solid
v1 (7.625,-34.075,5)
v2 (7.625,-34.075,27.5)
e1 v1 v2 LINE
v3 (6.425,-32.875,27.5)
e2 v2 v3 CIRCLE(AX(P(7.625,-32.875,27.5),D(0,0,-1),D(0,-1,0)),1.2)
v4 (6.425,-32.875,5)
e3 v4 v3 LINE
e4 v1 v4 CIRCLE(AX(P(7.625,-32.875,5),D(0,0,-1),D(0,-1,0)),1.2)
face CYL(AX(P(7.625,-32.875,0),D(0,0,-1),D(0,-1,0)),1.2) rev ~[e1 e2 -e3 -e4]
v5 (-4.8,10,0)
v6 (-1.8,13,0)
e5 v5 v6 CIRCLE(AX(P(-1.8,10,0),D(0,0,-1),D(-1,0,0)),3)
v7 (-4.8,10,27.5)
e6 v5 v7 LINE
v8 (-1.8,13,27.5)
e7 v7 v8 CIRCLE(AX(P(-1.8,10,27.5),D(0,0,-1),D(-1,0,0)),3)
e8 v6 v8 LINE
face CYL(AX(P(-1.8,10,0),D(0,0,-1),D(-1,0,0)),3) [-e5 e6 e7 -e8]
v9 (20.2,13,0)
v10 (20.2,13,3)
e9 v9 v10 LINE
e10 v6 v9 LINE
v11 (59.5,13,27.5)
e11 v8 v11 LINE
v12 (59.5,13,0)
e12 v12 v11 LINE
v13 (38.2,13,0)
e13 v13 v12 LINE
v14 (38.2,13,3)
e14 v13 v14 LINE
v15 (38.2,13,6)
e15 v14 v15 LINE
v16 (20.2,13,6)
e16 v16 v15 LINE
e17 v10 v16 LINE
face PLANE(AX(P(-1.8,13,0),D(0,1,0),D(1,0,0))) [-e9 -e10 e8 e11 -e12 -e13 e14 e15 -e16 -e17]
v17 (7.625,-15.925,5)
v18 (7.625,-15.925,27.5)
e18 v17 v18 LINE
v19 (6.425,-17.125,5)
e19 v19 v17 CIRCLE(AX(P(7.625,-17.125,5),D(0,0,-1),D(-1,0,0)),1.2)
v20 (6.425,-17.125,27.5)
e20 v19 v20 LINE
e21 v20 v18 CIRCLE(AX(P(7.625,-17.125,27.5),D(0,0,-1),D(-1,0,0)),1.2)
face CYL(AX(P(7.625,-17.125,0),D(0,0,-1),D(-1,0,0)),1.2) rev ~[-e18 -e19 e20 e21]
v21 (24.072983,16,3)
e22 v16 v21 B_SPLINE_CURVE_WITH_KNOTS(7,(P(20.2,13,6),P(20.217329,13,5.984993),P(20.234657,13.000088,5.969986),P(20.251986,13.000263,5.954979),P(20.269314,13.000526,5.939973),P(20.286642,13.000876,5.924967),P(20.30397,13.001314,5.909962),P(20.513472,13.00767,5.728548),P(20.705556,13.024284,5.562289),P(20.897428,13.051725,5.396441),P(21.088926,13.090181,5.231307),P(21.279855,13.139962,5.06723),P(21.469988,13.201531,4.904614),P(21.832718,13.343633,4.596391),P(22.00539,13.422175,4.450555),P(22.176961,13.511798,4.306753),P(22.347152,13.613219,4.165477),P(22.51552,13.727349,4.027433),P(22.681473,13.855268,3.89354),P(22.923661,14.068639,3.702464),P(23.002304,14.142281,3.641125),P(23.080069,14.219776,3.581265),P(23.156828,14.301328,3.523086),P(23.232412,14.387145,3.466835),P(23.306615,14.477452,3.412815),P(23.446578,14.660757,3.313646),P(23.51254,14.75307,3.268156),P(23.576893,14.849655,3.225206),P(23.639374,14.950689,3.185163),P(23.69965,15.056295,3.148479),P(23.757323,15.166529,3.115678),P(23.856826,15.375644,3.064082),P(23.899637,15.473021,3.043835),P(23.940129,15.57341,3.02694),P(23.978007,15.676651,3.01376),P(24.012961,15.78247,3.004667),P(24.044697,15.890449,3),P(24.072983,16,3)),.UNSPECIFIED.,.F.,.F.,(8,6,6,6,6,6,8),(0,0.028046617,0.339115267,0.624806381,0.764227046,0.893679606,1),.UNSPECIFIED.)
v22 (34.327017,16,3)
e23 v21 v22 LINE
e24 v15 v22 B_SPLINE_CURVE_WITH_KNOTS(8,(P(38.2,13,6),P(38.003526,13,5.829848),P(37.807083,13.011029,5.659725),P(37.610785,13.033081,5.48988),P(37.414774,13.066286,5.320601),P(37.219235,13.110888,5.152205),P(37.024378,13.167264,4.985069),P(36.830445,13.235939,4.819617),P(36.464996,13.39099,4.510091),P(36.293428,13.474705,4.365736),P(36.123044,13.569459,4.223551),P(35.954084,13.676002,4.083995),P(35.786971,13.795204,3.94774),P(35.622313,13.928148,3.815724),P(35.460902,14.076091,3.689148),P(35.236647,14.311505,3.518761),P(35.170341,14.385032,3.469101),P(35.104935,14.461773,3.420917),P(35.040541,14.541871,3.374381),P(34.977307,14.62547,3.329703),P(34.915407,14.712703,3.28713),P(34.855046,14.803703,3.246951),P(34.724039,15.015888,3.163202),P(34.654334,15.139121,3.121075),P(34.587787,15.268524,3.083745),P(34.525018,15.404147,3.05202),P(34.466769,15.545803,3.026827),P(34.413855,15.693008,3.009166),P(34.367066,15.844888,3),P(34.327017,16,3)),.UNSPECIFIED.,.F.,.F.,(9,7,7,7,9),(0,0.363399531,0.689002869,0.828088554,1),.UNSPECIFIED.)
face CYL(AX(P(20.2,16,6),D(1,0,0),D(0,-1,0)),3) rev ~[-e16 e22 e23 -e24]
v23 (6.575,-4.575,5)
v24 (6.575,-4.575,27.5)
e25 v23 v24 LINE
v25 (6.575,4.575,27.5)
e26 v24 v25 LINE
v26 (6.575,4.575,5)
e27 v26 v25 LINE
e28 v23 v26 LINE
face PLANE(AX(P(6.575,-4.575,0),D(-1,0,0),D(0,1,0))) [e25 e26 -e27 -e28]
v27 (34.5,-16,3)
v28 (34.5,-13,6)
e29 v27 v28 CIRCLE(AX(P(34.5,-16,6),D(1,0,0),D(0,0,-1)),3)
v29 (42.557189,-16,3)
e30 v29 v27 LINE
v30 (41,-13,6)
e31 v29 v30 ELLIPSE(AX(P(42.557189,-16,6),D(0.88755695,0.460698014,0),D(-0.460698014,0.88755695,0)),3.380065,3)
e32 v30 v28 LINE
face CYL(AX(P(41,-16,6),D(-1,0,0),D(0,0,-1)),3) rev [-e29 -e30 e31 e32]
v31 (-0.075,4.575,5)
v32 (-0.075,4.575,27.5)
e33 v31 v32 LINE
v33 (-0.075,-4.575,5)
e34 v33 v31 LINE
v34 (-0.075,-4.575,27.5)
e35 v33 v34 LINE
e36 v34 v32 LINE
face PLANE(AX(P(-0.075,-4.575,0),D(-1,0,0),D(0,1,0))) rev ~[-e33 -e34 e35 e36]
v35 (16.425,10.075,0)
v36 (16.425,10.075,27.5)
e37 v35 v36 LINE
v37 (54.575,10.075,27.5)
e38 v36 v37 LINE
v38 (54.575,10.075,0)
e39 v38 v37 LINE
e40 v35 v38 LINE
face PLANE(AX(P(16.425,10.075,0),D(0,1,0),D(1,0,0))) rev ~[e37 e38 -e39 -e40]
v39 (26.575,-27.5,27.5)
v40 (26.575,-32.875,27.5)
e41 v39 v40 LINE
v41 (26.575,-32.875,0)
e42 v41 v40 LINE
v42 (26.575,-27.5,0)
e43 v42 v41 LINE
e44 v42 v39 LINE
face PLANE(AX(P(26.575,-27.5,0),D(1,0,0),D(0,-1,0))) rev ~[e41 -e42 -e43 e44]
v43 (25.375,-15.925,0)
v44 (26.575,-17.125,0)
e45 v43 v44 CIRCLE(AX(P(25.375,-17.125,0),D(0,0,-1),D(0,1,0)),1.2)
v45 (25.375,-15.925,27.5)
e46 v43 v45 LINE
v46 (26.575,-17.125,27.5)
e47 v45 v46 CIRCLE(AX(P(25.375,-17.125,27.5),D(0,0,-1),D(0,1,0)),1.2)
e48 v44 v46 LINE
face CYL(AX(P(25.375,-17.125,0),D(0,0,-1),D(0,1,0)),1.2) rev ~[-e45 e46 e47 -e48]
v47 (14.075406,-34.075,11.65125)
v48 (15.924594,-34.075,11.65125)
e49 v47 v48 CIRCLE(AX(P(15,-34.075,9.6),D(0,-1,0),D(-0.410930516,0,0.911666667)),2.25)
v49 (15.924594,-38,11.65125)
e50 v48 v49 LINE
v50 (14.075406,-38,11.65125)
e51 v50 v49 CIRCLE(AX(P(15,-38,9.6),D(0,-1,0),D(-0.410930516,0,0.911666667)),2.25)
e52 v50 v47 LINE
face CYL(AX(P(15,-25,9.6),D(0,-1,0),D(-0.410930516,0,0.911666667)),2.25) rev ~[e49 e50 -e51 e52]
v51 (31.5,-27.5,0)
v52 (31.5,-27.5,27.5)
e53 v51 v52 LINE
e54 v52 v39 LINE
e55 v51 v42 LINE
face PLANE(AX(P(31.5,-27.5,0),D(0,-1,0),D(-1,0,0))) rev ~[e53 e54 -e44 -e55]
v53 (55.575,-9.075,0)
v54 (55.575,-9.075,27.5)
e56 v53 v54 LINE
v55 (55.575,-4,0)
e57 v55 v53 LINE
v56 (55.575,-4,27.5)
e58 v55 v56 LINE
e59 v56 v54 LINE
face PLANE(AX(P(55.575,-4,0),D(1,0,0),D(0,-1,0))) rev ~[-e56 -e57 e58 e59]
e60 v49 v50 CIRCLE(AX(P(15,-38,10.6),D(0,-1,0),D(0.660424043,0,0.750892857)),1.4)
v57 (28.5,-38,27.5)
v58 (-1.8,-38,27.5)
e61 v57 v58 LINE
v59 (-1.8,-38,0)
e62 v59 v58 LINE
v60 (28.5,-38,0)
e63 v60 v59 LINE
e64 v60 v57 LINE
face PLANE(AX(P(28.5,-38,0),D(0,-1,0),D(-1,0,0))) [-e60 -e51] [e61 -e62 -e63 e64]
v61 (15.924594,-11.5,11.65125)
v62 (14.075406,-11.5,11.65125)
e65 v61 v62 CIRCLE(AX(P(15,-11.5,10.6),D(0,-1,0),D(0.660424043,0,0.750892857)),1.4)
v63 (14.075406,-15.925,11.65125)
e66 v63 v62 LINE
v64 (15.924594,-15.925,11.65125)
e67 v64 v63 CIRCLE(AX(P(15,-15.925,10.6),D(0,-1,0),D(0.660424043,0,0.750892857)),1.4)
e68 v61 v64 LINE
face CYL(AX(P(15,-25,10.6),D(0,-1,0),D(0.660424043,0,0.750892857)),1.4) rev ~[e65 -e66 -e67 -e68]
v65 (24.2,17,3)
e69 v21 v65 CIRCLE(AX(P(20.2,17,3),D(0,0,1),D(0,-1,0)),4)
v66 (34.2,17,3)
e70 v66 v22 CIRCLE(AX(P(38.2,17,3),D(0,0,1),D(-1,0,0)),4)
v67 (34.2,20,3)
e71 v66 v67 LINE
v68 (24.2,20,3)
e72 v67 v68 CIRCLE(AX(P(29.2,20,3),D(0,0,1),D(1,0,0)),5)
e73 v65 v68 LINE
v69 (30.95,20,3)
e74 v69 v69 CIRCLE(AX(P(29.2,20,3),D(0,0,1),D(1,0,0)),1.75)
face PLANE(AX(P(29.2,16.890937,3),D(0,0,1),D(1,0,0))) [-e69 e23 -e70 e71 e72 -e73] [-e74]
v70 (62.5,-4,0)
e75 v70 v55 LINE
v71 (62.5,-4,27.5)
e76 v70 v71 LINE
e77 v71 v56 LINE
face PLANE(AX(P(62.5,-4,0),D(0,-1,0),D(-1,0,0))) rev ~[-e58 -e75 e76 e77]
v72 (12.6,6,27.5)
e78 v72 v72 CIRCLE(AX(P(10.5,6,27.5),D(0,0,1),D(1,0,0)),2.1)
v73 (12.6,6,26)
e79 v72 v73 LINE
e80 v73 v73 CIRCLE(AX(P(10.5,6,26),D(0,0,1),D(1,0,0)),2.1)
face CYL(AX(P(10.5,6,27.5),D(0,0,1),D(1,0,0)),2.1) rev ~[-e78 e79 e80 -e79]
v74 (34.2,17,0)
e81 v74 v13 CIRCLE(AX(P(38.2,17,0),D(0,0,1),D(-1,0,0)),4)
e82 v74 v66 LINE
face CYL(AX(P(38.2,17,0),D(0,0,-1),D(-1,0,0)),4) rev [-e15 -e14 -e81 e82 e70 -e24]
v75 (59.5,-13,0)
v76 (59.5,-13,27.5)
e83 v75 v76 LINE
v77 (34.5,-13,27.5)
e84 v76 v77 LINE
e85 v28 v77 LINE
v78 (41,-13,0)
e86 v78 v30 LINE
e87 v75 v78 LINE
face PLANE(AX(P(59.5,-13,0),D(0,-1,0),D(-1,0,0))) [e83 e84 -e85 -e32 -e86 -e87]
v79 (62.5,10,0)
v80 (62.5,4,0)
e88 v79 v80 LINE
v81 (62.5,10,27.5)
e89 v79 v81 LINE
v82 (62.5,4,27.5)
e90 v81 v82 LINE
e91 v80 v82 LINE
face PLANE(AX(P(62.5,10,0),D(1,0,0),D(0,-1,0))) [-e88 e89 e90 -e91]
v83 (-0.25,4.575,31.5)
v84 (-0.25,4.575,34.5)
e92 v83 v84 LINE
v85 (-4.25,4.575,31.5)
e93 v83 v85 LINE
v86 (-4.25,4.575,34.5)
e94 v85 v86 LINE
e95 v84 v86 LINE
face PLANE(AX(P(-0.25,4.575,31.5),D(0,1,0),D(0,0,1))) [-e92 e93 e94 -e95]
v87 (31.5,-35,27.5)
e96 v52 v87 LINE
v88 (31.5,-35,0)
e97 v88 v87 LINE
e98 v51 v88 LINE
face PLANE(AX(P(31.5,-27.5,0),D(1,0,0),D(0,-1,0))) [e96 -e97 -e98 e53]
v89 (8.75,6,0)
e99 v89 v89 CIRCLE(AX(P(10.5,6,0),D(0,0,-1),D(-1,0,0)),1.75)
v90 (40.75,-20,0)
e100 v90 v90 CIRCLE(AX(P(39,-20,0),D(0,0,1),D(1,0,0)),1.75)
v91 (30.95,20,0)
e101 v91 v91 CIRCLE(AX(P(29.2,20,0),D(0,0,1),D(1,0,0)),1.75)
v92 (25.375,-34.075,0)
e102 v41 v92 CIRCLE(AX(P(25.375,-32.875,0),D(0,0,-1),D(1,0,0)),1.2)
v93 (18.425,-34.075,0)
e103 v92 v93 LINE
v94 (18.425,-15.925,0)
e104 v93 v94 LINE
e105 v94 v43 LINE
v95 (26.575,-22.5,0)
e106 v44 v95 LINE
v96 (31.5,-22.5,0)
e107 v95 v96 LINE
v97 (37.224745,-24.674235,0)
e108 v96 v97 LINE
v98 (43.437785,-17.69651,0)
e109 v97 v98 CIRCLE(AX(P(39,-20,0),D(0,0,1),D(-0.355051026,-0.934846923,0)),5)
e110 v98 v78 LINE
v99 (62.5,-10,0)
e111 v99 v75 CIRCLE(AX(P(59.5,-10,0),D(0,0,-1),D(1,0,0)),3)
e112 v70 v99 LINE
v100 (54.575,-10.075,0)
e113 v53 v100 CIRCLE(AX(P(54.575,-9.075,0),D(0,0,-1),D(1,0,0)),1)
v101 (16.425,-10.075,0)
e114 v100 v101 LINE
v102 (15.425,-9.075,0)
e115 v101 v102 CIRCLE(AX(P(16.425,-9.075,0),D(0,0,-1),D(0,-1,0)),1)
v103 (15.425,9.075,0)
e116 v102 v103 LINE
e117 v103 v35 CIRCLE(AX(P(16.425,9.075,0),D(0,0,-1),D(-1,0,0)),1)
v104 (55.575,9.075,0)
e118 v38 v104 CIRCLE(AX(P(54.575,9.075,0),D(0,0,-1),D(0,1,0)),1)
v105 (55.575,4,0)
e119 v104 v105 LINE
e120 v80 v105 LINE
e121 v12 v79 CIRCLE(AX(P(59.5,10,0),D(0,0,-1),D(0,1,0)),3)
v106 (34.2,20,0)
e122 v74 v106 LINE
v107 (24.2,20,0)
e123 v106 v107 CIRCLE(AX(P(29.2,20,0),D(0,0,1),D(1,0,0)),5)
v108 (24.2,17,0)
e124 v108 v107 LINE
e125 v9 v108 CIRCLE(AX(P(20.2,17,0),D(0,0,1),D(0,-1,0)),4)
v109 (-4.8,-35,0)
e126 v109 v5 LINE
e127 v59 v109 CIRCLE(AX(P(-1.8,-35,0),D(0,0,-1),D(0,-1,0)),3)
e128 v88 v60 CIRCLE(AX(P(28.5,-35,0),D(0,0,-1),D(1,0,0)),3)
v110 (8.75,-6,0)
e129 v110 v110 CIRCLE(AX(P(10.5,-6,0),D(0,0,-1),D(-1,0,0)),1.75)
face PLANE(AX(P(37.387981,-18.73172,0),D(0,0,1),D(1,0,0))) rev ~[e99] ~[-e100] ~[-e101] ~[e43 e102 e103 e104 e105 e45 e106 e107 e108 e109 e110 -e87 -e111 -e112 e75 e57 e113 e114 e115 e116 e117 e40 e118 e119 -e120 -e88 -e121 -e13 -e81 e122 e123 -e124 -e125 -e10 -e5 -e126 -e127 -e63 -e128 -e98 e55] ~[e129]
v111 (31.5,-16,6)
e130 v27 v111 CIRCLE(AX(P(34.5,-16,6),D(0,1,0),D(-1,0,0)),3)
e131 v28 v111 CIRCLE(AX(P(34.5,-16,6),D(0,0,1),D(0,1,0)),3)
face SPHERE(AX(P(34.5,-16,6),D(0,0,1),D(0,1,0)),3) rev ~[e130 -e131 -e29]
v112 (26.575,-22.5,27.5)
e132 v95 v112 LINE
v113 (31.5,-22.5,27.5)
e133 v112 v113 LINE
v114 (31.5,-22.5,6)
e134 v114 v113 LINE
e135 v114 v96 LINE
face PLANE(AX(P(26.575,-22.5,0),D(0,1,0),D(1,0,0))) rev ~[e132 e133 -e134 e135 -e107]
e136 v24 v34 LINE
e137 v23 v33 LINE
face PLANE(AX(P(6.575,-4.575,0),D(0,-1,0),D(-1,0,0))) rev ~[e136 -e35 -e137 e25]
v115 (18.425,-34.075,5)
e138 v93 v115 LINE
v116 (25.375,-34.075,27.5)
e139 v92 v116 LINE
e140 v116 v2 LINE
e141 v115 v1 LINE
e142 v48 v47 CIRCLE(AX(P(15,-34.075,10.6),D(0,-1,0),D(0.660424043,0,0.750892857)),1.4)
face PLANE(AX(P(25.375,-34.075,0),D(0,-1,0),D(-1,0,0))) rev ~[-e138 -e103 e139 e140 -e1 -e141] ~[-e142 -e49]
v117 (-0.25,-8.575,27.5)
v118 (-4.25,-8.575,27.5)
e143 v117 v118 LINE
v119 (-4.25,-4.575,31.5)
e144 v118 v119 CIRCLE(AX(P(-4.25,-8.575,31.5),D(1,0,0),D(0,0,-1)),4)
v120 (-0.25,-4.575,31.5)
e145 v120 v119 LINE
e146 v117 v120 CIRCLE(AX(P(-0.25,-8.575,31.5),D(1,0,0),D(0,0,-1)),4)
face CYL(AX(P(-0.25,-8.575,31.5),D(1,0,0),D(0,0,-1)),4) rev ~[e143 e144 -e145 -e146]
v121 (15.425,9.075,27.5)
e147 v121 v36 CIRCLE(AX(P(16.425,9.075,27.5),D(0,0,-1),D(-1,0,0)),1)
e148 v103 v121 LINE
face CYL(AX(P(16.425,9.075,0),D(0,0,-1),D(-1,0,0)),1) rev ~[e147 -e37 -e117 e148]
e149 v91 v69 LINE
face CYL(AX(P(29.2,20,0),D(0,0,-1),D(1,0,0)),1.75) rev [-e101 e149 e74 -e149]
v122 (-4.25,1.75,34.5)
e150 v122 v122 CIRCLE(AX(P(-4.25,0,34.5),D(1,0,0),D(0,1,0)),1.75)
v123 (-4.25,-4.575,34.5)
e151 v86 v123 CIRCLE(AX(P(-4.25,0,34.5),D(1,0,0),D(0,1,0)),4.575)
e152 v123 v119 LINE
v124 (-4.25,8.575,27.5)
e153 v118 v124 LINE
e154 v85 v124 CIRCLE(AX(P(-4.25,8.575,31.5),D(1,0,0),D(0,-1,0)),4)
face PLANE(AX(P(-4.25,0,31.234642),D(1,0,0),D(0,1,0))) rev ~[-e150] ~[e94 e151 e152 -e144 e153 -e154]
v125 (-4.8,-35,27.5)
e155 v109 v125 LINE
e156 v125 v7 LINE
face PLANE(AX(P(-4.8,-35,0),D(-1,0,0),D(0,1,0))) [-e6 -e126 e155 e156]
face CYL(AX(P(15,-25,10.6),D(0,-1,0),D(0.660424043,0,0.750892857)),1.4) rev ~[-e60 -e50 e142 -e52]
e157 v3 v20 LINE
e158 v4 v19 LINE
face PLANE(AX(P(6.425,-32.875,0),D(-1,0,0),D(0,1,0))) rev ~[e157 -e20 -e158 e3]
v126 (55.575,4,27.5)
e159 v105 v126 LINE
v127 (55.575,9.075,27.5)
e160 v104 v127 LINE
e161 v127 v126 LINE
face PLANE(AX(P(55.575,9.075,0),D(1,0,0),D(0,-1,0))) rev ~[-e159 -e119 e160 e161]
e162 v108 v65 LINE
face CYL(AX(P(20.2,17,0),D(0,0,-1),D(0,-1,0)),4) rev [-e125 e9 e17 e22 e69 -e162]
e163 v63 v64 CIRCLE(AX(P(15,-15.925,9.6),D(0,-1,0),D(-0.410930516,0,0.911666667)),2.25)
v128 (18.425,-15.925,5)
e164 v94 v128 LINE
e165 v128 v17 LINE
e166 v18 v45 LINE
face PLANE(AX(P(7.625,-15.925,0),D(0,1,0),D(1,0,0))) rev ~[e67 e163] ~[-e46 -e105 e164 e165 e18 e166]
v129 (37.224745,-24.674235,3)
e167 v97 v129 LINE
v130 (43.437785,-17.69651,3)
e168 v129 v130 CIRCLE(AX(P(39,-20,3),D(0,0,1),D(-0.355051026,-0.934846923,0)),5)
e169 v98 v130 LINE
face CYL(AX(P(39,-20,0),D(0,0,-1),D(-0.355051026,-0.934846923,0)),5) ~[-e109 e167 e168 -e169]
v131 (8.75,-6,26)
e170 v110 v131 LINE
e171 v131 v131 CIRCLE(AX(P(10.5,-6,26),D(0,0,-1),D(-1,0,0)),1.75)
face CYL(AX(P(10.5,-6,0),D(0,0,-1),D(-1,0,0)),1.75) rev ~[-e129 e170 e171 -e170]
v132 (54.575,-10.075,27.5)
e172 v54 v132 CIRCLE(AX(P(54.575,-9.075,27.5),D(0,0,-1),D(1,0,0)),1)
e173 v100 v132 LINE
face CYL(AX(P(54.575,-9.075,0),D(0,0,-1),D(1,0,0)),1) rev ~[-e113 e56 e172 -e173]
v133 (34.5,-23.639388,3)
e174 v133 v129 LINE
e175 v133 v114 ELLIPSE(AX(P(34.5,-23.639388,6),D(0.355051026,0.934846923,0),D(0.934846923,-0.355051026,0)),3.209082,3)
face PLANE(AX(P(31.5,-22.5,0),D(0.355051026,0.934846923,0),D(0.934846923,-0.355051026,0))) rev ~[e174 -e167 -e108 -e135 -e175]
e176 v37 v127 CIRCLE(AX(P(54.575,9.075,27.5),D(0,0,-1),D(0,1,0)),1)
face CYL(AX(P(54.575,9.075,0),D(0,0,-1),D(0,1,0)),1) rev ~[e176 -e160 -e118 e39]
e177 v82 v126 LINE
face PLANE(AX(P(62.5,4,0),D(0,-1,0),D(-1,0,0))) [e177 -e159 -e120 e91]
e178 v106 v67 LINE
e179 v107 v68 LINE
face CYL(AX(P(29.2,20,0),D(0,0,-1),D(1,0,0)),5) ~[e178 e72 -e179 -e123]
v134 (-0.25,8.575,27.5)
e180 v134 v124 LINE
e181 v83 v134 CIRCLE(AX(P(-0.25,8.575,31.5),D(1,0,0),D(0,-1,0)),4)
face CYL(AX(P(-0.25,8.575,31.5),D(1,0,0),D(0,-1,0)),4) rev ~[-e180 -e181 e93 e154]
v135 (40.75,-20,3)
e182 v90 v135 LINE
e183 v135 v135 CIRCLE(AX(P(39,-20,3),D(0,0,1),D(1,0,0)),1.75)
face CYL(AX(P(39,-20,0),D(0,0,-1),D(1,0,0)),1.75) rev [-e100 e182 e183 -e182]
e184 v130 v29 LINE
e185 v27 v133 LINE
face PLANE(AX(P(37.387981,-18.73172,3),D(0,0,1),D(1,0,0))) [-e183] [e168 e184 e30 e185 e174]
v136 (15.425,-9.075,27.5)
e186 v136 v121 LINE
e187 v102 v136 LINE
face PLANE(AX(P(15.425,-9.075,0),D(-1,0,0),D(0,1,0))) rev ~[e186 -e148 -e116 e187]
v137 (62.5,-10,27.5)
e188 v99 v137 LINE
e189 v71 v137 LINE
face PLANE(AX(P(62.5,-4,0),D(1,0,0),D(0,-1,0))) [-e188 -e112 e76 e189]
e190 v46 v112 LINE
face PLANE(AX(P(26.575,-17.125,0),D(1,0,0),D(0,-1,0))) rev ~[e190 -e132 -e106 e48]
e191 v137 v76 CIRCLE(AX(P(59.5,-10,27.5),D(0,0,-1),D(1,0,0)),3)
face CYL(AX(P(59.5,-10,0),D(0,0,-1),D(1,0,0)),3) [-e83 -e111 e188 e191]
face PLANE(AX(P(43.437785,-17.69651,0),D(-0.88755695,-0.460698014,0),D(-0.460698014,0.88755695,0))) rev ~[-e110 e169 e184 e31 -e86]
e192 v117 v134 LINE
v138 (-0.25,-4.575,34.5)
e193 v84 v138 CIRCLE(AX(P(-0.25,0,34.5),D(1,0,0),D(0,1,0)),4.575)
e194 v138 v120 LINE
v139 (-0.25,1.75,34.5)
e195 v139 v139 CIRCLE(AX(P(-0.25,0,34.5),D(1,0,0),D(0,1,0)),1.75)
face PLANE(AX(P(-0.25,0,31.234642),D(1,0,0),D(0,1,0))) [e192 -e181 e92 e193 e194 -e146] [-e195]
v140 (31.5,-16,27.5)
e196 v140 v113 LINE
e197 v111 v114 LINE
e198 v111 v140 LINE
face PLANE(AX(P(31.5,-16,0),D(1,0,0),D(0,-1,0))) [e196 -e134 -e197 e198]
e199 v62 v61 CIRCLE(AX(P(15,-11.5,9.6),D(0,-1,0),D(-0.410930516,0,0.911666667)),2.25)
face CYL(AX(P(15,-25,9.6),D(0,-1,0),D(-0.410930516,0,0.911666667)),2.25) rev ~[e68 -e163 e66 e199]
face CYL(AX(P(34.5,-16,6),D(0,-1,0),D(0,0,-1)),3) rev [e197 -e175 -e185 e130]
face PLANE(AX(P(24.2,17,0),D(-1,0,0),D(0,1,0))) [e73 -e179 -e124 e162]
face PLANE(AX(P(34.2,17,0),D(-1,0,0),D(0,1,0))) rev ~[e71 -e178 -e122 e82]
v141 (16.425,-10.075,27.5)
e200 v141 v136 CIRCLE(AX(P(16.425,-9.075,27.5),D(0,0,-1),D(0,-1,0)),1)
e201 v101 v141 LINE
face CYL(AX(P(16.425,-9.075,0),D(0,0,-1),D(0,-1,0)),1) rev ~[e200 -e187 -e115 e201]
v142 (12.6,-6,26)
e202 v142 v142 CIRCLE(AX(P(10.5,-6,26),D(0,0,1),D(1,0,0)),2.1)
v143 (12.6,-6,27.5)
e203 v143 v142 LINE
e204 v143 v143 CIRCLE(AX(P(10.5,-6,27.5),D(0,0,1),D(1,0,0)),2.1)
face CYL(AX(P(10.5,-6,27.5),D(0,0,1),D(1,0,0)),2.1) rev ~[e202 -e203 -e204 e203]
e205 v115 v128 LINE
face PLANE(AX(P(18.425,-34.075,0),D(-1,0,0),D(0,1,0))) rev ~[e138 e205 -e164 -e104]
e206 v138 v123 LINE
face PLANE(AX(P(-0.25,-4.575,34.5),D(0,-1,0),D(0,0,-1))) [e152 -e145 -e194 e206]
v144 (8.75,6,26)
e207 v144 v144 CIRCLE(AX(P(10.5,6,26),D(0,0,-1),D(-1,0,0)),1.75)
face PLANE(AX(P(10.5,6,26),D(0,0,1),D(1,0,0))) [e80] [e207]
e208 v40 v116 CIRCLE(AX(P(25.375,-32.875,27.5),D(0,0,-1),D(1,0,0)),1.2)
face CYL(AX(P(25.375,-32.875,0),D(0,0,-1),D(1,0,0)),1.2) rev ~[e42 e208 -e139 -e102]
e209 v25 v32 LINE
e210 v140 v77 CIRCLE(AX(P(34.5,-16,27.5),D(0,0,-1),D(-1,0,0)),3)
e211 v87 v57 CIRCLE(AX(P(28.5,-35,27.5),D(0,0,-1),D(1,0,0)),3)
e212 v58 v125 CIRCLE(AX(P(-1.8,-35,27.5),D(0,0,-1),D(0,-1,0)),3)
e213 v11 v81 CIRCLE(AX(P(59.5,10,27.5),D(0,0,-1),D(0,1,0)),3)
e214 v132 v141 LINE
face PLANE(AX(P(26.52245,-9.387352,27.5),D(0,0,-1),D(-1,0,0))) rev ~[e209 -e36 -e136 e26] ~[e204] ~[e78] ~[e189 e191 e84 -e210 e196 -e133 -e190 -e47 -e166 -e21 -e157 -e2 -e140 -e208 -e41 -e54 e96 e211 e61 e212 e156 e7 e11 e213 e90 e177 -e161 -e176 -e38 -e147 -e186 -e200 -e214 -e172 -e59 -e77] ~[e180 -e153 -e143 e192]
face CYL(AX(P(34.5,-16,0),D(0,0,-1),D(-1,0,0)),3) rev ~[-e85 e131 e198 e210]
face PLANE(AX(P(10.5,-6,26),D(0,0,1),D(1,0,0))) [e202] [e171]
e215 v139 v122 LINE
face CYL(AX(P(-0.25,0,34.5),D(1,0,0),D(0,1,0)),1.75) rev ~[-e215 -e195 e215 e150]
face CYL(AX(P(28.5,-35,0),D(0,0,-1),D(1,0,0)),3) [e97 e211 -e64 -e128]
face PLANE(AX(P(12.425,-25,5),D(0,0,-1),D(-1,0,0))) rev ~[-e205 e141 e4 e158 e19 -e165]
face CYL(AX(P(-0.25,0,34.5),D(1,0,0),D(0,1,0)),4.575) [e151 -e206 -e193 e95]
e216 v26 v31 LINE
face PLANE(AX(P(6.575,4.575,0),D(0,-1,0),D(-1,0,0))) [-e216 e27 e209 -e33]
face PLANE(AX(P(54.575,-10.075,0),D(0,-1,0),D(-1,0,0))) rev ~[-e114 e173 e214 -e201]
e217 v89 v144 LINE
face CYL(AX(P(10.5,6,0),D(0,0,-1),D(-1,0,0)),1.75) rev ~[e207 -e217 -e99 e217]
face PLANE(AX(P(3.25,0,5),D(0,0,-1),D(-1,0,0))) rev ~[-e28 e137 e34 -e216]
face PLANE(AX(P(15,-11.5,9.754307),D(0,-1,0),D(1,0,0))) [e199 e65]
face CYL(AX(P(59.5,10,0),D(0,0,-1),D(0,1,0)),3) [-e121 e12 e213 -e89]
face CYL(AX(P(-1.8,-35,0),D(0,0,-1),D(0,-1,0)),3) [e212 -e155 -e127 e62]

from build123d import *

# Parameters (mm, degrees)
SKETCH042_R     = 1.75
SKETCH042_W     = 6.65
SKETCH042_H     = 9.15
PAD015_DEPTH    = 27.5
SKETCH055_W     = 6.65
SKETCH055_H     = 9.15
SKETCH055_W_2   = 12
SKETCH055_H_2   = 18.15
PAD023_DEPTH    = 5
SKETCH056_R     = 1.75
PAD024_DEPTH    = 4
SKETCH057_R     = 1.75
PAD025_DEPTH    = 3
POCKET028_DEPTH = 13.5
SKETCH059_R     = 2.1
POCKET029_DEPTH = 1.5
FILLET_R        = 3


with BuildPart() as part:
    # Sketch042 → Pad015 (new body)
    with BuildSketch(Plane(origin=(0, 0, 0), x_dir=(-1, 0, 0), z_dir=(0, 0, -1))):
        with BuildLine():
            Line((-28.5, -38), (1.8, -38))
            ThreePointArc((1.8, -38), (3.9213203436, -37.1213203436), (4.8, -35))
            Line((4.8, -35), (4.8, 10))
            ThreePointArc((4.8, 10), (3.9213203436, 12.1213203436), (1.8, 13))
            Line((1.8, 13), (-59.5, 13))
            ThreePointArc((-59.5, 13), (-61.6213203436, 12.1213203436), (-62.5, 10))
            Line((-62.5, 10), (-62.5, 4))
            Line((-62.5, 4), (-55.575, 4))
            Line((-55.575, 9.075), (-55.575, 4))
            ThreePointArc((-54.575, 10.075), (-55.2821067812, 9.7821067812), (-55.575, 9.075))
            Line((-16.425, 10.075), (-54.575, 10.075))
            ThreePointArc((-15.425, 9.075), (-15.7178932188, 9.7821067812), (-16.425, 10.075))
            Line((-15.425, -9.075), (-15.425, 9.075))
            ThreePointArc((-16.425, -10.075), (-15.7178932188, -9.7821067812), (-15.425, -9.075))
            Line((-54.575, -10.075), (-16.425, -10.075))
            ThreePointArc((-55.575, -9.075), (-55.2821067812, -9.7821067812), (-54.575, -10.075))
            Line((-55.575, -4), (-55.575, -9.075))
            Line((-62.5, -4), (-55.575, -4))
            Line((-62.5, -4), (-62.5, -10))
            ThreePointArc((-62.5, -10), (-61.6213203436, -12.1213203436), (-59.5, -13))
            Line((-59.5, -13), (-34.5, -13))
            ThreePointArc((-31.5, -16), (-32.3786796564, -13.8786796564), (-34.5, -13))
            Line((-31.5, -16), (-31.5, -22.5))
            Line((-26.575, -22.5), (-31.5, -22.5))
            Line((-26.575, -17.125), (-26.575, -22.5))
            ThreePointArc((-25.375, -15.925), (-26.2235281374, -16.2764718626), (-26.575, -17.125))
            Line((-7.625, -15.925), (-25.375, -15.925))
            ThreePointArc((-6.425, -17.125), (-6.7764718626, -16.2764718626), (-7.625, -15.925))
            Line((-6.425, -32.875), (-6.425, -17.125))
            ThreePointArc((-7.625, -34.075), (-6.7764718626, -33.7235281374), (-6.425, -32.875))
            Line((-25.375, -34.075), (-7.625, -34.075))
            ThreePointArc((-26.575, -32.875), (-26.2235281374, -33.7235281374), (-25.375, -34.075))
            Line((-26.575, -27.5), (-26.575, -32.875))
            Line((-31.5, -27.5), (-26.575, -27.5))
            Line((-31.5, -27.5), (-31.5, -35))
            ThreePointArc((-31.5, -35), (-30.6213203436, -37.1213203436), (-28.5, -38))
        make_face()
        with Locations((-10.5, 6)):
            Circle(SKETCH042_R, mode=Mode.SUBTRACT)
        with Locations((-10.5, -6)):
            Circle(SKETCH042_R, mode=Mode.SUBTRACT)
        with Locations((-3.25, 0)):
            Rectangle(SKETCH042_W, SKETCH042_H, mode=Mode.SUBTRACT)
    extrude(amount=-PAD015_DEPTH)

    # Sketch055 → Pad023 (join)
    with BuildSketch(Plane(origin=(0, 0, 0), x_dir=(-1, 0, 0), z_dir=(0, 0, -1))):
        with Locations((-3.25, 0)):
            Rectangle(SKETCH055_W, SKETCH055_H)
        with Locations((-12.425, -25)):
            Rectangle(SKETCH055_W_2, SKETCH055_H_2)
    extrude(amount=-PAD023_DEPTH)

    # Sketch056 → Pad024 (join)
    with BuildSketch(Plane.YZ.offset(-0.25)):
        with BuildLine():
            Line((-8.575, 27.5), (8.575, 27.5))
            ThreePointArc((4.575, 31.5), (5.7465728753, 28.6715728753), (8.575, 27.5))
            Line((4.575, 31.5), (4.575, 34.5))
            ThreePointArc((4.575, 34.5), (0, 39.075), (-4.575, 34.5))
            Line((-4.575, 34.5), (-4.575, 31.5))
            ThreePointArc((-8.575, 27.5), (-5.7465728753, 28.6715728753), (-4.575, 31.5))
        make_face()
        with Locations((0, 34.5)):
            Circle(SKETCH056_R, mode=Mode.SUBTRACT)
    extrude(amount=-PAD024_DEPTH)

    # Sketch057 → Pad025 (join)
    with BuildSketch(Plane.XY):
        with BuildLine():
            ThreePointArc((34.5, -13), (32.3786796564, -13.8786796564), (31.5, -16))
            Line((31.5, -16), (31.5, -22.5))
            Line((31.5, -22.5), (37.2247448714, -24.6742346142))
            ThreePointArc((37.2247448714, -24.6742346142), (42.7342236735, -23.3249922641), (43.4377847505, -17.6965099287))
            Line((43.4377847505, -17.6965099287), (41, -13))
            Line((34.5, -13), (41, -13))
        make_face()
        with Locations((39, -20)):
            Circle(SKETCH057_R, mode=Mode.SUBTRACT)
        with BuildLine():
            Line((20.2, 13), (38.2, 13))
            ThreePointArc((34.2, 17), (35.3715728753, 14.1715728753), (38.2, 13))
            Line((34.2, 17), (34.2, 20))
            ThreePointArc((34.2, 20), (29.2, 25), (24.2, 20))
            Line((24.2, 17), (24.2, 20))
            ThreePointArc((20.2, 13), (23.0284271247, 14.1715728753), (24.2, 17))
        make_face()
        with Locations((29.2, 20)):
            Circle(SKETCH057_R, mode=Mode.SUBTRACT)
    extrude(amount=PAD025_DEPTH)

    # Sketch058 → Pocket028 (cut, symmetric)
    with BuildSketch(Plane(origin=(15, -25, 9.6), x_dir=(1, 0, 0), z_dir=(0, -1, 0))):
        with BuildLine():
            ThreePointArc((-0.9245936608, 2.05125), (0, -2.25), (0.9245936608, 2.05125))
            ThreePointArc((0.9245936608, 2.05125), (0, 2.4), (-0.9245936608, 2.05125))
        make_face()
    extrude(amount=POCKET028_DEPTH, both=True, mode=Mode.SUBTRACT)

    # Sketch059 (on Face5 of Pocket028) → Pocket029 (cut)
    with BuildSketch(Plane.XY.offset(27.5)):
        with Locations((10.5, 6)):
            Circle(SKETCH059_R)
        with Locations((10.5, -6)):
            Circle(SKETCH059_R)
    extrude(amount=-POCKET029_DEPTH, mode=Mode.SUBTRACT)

    # Fillet
    fillet_edges = [part.edges().sort_by_distance(p)[0] for p in [
        (32.37868, -13.87868, 3),
        (29.2, 13, 3),
    ]]
    fillet(fillet_edges, radius=FILLET_R)


solid = part.part
